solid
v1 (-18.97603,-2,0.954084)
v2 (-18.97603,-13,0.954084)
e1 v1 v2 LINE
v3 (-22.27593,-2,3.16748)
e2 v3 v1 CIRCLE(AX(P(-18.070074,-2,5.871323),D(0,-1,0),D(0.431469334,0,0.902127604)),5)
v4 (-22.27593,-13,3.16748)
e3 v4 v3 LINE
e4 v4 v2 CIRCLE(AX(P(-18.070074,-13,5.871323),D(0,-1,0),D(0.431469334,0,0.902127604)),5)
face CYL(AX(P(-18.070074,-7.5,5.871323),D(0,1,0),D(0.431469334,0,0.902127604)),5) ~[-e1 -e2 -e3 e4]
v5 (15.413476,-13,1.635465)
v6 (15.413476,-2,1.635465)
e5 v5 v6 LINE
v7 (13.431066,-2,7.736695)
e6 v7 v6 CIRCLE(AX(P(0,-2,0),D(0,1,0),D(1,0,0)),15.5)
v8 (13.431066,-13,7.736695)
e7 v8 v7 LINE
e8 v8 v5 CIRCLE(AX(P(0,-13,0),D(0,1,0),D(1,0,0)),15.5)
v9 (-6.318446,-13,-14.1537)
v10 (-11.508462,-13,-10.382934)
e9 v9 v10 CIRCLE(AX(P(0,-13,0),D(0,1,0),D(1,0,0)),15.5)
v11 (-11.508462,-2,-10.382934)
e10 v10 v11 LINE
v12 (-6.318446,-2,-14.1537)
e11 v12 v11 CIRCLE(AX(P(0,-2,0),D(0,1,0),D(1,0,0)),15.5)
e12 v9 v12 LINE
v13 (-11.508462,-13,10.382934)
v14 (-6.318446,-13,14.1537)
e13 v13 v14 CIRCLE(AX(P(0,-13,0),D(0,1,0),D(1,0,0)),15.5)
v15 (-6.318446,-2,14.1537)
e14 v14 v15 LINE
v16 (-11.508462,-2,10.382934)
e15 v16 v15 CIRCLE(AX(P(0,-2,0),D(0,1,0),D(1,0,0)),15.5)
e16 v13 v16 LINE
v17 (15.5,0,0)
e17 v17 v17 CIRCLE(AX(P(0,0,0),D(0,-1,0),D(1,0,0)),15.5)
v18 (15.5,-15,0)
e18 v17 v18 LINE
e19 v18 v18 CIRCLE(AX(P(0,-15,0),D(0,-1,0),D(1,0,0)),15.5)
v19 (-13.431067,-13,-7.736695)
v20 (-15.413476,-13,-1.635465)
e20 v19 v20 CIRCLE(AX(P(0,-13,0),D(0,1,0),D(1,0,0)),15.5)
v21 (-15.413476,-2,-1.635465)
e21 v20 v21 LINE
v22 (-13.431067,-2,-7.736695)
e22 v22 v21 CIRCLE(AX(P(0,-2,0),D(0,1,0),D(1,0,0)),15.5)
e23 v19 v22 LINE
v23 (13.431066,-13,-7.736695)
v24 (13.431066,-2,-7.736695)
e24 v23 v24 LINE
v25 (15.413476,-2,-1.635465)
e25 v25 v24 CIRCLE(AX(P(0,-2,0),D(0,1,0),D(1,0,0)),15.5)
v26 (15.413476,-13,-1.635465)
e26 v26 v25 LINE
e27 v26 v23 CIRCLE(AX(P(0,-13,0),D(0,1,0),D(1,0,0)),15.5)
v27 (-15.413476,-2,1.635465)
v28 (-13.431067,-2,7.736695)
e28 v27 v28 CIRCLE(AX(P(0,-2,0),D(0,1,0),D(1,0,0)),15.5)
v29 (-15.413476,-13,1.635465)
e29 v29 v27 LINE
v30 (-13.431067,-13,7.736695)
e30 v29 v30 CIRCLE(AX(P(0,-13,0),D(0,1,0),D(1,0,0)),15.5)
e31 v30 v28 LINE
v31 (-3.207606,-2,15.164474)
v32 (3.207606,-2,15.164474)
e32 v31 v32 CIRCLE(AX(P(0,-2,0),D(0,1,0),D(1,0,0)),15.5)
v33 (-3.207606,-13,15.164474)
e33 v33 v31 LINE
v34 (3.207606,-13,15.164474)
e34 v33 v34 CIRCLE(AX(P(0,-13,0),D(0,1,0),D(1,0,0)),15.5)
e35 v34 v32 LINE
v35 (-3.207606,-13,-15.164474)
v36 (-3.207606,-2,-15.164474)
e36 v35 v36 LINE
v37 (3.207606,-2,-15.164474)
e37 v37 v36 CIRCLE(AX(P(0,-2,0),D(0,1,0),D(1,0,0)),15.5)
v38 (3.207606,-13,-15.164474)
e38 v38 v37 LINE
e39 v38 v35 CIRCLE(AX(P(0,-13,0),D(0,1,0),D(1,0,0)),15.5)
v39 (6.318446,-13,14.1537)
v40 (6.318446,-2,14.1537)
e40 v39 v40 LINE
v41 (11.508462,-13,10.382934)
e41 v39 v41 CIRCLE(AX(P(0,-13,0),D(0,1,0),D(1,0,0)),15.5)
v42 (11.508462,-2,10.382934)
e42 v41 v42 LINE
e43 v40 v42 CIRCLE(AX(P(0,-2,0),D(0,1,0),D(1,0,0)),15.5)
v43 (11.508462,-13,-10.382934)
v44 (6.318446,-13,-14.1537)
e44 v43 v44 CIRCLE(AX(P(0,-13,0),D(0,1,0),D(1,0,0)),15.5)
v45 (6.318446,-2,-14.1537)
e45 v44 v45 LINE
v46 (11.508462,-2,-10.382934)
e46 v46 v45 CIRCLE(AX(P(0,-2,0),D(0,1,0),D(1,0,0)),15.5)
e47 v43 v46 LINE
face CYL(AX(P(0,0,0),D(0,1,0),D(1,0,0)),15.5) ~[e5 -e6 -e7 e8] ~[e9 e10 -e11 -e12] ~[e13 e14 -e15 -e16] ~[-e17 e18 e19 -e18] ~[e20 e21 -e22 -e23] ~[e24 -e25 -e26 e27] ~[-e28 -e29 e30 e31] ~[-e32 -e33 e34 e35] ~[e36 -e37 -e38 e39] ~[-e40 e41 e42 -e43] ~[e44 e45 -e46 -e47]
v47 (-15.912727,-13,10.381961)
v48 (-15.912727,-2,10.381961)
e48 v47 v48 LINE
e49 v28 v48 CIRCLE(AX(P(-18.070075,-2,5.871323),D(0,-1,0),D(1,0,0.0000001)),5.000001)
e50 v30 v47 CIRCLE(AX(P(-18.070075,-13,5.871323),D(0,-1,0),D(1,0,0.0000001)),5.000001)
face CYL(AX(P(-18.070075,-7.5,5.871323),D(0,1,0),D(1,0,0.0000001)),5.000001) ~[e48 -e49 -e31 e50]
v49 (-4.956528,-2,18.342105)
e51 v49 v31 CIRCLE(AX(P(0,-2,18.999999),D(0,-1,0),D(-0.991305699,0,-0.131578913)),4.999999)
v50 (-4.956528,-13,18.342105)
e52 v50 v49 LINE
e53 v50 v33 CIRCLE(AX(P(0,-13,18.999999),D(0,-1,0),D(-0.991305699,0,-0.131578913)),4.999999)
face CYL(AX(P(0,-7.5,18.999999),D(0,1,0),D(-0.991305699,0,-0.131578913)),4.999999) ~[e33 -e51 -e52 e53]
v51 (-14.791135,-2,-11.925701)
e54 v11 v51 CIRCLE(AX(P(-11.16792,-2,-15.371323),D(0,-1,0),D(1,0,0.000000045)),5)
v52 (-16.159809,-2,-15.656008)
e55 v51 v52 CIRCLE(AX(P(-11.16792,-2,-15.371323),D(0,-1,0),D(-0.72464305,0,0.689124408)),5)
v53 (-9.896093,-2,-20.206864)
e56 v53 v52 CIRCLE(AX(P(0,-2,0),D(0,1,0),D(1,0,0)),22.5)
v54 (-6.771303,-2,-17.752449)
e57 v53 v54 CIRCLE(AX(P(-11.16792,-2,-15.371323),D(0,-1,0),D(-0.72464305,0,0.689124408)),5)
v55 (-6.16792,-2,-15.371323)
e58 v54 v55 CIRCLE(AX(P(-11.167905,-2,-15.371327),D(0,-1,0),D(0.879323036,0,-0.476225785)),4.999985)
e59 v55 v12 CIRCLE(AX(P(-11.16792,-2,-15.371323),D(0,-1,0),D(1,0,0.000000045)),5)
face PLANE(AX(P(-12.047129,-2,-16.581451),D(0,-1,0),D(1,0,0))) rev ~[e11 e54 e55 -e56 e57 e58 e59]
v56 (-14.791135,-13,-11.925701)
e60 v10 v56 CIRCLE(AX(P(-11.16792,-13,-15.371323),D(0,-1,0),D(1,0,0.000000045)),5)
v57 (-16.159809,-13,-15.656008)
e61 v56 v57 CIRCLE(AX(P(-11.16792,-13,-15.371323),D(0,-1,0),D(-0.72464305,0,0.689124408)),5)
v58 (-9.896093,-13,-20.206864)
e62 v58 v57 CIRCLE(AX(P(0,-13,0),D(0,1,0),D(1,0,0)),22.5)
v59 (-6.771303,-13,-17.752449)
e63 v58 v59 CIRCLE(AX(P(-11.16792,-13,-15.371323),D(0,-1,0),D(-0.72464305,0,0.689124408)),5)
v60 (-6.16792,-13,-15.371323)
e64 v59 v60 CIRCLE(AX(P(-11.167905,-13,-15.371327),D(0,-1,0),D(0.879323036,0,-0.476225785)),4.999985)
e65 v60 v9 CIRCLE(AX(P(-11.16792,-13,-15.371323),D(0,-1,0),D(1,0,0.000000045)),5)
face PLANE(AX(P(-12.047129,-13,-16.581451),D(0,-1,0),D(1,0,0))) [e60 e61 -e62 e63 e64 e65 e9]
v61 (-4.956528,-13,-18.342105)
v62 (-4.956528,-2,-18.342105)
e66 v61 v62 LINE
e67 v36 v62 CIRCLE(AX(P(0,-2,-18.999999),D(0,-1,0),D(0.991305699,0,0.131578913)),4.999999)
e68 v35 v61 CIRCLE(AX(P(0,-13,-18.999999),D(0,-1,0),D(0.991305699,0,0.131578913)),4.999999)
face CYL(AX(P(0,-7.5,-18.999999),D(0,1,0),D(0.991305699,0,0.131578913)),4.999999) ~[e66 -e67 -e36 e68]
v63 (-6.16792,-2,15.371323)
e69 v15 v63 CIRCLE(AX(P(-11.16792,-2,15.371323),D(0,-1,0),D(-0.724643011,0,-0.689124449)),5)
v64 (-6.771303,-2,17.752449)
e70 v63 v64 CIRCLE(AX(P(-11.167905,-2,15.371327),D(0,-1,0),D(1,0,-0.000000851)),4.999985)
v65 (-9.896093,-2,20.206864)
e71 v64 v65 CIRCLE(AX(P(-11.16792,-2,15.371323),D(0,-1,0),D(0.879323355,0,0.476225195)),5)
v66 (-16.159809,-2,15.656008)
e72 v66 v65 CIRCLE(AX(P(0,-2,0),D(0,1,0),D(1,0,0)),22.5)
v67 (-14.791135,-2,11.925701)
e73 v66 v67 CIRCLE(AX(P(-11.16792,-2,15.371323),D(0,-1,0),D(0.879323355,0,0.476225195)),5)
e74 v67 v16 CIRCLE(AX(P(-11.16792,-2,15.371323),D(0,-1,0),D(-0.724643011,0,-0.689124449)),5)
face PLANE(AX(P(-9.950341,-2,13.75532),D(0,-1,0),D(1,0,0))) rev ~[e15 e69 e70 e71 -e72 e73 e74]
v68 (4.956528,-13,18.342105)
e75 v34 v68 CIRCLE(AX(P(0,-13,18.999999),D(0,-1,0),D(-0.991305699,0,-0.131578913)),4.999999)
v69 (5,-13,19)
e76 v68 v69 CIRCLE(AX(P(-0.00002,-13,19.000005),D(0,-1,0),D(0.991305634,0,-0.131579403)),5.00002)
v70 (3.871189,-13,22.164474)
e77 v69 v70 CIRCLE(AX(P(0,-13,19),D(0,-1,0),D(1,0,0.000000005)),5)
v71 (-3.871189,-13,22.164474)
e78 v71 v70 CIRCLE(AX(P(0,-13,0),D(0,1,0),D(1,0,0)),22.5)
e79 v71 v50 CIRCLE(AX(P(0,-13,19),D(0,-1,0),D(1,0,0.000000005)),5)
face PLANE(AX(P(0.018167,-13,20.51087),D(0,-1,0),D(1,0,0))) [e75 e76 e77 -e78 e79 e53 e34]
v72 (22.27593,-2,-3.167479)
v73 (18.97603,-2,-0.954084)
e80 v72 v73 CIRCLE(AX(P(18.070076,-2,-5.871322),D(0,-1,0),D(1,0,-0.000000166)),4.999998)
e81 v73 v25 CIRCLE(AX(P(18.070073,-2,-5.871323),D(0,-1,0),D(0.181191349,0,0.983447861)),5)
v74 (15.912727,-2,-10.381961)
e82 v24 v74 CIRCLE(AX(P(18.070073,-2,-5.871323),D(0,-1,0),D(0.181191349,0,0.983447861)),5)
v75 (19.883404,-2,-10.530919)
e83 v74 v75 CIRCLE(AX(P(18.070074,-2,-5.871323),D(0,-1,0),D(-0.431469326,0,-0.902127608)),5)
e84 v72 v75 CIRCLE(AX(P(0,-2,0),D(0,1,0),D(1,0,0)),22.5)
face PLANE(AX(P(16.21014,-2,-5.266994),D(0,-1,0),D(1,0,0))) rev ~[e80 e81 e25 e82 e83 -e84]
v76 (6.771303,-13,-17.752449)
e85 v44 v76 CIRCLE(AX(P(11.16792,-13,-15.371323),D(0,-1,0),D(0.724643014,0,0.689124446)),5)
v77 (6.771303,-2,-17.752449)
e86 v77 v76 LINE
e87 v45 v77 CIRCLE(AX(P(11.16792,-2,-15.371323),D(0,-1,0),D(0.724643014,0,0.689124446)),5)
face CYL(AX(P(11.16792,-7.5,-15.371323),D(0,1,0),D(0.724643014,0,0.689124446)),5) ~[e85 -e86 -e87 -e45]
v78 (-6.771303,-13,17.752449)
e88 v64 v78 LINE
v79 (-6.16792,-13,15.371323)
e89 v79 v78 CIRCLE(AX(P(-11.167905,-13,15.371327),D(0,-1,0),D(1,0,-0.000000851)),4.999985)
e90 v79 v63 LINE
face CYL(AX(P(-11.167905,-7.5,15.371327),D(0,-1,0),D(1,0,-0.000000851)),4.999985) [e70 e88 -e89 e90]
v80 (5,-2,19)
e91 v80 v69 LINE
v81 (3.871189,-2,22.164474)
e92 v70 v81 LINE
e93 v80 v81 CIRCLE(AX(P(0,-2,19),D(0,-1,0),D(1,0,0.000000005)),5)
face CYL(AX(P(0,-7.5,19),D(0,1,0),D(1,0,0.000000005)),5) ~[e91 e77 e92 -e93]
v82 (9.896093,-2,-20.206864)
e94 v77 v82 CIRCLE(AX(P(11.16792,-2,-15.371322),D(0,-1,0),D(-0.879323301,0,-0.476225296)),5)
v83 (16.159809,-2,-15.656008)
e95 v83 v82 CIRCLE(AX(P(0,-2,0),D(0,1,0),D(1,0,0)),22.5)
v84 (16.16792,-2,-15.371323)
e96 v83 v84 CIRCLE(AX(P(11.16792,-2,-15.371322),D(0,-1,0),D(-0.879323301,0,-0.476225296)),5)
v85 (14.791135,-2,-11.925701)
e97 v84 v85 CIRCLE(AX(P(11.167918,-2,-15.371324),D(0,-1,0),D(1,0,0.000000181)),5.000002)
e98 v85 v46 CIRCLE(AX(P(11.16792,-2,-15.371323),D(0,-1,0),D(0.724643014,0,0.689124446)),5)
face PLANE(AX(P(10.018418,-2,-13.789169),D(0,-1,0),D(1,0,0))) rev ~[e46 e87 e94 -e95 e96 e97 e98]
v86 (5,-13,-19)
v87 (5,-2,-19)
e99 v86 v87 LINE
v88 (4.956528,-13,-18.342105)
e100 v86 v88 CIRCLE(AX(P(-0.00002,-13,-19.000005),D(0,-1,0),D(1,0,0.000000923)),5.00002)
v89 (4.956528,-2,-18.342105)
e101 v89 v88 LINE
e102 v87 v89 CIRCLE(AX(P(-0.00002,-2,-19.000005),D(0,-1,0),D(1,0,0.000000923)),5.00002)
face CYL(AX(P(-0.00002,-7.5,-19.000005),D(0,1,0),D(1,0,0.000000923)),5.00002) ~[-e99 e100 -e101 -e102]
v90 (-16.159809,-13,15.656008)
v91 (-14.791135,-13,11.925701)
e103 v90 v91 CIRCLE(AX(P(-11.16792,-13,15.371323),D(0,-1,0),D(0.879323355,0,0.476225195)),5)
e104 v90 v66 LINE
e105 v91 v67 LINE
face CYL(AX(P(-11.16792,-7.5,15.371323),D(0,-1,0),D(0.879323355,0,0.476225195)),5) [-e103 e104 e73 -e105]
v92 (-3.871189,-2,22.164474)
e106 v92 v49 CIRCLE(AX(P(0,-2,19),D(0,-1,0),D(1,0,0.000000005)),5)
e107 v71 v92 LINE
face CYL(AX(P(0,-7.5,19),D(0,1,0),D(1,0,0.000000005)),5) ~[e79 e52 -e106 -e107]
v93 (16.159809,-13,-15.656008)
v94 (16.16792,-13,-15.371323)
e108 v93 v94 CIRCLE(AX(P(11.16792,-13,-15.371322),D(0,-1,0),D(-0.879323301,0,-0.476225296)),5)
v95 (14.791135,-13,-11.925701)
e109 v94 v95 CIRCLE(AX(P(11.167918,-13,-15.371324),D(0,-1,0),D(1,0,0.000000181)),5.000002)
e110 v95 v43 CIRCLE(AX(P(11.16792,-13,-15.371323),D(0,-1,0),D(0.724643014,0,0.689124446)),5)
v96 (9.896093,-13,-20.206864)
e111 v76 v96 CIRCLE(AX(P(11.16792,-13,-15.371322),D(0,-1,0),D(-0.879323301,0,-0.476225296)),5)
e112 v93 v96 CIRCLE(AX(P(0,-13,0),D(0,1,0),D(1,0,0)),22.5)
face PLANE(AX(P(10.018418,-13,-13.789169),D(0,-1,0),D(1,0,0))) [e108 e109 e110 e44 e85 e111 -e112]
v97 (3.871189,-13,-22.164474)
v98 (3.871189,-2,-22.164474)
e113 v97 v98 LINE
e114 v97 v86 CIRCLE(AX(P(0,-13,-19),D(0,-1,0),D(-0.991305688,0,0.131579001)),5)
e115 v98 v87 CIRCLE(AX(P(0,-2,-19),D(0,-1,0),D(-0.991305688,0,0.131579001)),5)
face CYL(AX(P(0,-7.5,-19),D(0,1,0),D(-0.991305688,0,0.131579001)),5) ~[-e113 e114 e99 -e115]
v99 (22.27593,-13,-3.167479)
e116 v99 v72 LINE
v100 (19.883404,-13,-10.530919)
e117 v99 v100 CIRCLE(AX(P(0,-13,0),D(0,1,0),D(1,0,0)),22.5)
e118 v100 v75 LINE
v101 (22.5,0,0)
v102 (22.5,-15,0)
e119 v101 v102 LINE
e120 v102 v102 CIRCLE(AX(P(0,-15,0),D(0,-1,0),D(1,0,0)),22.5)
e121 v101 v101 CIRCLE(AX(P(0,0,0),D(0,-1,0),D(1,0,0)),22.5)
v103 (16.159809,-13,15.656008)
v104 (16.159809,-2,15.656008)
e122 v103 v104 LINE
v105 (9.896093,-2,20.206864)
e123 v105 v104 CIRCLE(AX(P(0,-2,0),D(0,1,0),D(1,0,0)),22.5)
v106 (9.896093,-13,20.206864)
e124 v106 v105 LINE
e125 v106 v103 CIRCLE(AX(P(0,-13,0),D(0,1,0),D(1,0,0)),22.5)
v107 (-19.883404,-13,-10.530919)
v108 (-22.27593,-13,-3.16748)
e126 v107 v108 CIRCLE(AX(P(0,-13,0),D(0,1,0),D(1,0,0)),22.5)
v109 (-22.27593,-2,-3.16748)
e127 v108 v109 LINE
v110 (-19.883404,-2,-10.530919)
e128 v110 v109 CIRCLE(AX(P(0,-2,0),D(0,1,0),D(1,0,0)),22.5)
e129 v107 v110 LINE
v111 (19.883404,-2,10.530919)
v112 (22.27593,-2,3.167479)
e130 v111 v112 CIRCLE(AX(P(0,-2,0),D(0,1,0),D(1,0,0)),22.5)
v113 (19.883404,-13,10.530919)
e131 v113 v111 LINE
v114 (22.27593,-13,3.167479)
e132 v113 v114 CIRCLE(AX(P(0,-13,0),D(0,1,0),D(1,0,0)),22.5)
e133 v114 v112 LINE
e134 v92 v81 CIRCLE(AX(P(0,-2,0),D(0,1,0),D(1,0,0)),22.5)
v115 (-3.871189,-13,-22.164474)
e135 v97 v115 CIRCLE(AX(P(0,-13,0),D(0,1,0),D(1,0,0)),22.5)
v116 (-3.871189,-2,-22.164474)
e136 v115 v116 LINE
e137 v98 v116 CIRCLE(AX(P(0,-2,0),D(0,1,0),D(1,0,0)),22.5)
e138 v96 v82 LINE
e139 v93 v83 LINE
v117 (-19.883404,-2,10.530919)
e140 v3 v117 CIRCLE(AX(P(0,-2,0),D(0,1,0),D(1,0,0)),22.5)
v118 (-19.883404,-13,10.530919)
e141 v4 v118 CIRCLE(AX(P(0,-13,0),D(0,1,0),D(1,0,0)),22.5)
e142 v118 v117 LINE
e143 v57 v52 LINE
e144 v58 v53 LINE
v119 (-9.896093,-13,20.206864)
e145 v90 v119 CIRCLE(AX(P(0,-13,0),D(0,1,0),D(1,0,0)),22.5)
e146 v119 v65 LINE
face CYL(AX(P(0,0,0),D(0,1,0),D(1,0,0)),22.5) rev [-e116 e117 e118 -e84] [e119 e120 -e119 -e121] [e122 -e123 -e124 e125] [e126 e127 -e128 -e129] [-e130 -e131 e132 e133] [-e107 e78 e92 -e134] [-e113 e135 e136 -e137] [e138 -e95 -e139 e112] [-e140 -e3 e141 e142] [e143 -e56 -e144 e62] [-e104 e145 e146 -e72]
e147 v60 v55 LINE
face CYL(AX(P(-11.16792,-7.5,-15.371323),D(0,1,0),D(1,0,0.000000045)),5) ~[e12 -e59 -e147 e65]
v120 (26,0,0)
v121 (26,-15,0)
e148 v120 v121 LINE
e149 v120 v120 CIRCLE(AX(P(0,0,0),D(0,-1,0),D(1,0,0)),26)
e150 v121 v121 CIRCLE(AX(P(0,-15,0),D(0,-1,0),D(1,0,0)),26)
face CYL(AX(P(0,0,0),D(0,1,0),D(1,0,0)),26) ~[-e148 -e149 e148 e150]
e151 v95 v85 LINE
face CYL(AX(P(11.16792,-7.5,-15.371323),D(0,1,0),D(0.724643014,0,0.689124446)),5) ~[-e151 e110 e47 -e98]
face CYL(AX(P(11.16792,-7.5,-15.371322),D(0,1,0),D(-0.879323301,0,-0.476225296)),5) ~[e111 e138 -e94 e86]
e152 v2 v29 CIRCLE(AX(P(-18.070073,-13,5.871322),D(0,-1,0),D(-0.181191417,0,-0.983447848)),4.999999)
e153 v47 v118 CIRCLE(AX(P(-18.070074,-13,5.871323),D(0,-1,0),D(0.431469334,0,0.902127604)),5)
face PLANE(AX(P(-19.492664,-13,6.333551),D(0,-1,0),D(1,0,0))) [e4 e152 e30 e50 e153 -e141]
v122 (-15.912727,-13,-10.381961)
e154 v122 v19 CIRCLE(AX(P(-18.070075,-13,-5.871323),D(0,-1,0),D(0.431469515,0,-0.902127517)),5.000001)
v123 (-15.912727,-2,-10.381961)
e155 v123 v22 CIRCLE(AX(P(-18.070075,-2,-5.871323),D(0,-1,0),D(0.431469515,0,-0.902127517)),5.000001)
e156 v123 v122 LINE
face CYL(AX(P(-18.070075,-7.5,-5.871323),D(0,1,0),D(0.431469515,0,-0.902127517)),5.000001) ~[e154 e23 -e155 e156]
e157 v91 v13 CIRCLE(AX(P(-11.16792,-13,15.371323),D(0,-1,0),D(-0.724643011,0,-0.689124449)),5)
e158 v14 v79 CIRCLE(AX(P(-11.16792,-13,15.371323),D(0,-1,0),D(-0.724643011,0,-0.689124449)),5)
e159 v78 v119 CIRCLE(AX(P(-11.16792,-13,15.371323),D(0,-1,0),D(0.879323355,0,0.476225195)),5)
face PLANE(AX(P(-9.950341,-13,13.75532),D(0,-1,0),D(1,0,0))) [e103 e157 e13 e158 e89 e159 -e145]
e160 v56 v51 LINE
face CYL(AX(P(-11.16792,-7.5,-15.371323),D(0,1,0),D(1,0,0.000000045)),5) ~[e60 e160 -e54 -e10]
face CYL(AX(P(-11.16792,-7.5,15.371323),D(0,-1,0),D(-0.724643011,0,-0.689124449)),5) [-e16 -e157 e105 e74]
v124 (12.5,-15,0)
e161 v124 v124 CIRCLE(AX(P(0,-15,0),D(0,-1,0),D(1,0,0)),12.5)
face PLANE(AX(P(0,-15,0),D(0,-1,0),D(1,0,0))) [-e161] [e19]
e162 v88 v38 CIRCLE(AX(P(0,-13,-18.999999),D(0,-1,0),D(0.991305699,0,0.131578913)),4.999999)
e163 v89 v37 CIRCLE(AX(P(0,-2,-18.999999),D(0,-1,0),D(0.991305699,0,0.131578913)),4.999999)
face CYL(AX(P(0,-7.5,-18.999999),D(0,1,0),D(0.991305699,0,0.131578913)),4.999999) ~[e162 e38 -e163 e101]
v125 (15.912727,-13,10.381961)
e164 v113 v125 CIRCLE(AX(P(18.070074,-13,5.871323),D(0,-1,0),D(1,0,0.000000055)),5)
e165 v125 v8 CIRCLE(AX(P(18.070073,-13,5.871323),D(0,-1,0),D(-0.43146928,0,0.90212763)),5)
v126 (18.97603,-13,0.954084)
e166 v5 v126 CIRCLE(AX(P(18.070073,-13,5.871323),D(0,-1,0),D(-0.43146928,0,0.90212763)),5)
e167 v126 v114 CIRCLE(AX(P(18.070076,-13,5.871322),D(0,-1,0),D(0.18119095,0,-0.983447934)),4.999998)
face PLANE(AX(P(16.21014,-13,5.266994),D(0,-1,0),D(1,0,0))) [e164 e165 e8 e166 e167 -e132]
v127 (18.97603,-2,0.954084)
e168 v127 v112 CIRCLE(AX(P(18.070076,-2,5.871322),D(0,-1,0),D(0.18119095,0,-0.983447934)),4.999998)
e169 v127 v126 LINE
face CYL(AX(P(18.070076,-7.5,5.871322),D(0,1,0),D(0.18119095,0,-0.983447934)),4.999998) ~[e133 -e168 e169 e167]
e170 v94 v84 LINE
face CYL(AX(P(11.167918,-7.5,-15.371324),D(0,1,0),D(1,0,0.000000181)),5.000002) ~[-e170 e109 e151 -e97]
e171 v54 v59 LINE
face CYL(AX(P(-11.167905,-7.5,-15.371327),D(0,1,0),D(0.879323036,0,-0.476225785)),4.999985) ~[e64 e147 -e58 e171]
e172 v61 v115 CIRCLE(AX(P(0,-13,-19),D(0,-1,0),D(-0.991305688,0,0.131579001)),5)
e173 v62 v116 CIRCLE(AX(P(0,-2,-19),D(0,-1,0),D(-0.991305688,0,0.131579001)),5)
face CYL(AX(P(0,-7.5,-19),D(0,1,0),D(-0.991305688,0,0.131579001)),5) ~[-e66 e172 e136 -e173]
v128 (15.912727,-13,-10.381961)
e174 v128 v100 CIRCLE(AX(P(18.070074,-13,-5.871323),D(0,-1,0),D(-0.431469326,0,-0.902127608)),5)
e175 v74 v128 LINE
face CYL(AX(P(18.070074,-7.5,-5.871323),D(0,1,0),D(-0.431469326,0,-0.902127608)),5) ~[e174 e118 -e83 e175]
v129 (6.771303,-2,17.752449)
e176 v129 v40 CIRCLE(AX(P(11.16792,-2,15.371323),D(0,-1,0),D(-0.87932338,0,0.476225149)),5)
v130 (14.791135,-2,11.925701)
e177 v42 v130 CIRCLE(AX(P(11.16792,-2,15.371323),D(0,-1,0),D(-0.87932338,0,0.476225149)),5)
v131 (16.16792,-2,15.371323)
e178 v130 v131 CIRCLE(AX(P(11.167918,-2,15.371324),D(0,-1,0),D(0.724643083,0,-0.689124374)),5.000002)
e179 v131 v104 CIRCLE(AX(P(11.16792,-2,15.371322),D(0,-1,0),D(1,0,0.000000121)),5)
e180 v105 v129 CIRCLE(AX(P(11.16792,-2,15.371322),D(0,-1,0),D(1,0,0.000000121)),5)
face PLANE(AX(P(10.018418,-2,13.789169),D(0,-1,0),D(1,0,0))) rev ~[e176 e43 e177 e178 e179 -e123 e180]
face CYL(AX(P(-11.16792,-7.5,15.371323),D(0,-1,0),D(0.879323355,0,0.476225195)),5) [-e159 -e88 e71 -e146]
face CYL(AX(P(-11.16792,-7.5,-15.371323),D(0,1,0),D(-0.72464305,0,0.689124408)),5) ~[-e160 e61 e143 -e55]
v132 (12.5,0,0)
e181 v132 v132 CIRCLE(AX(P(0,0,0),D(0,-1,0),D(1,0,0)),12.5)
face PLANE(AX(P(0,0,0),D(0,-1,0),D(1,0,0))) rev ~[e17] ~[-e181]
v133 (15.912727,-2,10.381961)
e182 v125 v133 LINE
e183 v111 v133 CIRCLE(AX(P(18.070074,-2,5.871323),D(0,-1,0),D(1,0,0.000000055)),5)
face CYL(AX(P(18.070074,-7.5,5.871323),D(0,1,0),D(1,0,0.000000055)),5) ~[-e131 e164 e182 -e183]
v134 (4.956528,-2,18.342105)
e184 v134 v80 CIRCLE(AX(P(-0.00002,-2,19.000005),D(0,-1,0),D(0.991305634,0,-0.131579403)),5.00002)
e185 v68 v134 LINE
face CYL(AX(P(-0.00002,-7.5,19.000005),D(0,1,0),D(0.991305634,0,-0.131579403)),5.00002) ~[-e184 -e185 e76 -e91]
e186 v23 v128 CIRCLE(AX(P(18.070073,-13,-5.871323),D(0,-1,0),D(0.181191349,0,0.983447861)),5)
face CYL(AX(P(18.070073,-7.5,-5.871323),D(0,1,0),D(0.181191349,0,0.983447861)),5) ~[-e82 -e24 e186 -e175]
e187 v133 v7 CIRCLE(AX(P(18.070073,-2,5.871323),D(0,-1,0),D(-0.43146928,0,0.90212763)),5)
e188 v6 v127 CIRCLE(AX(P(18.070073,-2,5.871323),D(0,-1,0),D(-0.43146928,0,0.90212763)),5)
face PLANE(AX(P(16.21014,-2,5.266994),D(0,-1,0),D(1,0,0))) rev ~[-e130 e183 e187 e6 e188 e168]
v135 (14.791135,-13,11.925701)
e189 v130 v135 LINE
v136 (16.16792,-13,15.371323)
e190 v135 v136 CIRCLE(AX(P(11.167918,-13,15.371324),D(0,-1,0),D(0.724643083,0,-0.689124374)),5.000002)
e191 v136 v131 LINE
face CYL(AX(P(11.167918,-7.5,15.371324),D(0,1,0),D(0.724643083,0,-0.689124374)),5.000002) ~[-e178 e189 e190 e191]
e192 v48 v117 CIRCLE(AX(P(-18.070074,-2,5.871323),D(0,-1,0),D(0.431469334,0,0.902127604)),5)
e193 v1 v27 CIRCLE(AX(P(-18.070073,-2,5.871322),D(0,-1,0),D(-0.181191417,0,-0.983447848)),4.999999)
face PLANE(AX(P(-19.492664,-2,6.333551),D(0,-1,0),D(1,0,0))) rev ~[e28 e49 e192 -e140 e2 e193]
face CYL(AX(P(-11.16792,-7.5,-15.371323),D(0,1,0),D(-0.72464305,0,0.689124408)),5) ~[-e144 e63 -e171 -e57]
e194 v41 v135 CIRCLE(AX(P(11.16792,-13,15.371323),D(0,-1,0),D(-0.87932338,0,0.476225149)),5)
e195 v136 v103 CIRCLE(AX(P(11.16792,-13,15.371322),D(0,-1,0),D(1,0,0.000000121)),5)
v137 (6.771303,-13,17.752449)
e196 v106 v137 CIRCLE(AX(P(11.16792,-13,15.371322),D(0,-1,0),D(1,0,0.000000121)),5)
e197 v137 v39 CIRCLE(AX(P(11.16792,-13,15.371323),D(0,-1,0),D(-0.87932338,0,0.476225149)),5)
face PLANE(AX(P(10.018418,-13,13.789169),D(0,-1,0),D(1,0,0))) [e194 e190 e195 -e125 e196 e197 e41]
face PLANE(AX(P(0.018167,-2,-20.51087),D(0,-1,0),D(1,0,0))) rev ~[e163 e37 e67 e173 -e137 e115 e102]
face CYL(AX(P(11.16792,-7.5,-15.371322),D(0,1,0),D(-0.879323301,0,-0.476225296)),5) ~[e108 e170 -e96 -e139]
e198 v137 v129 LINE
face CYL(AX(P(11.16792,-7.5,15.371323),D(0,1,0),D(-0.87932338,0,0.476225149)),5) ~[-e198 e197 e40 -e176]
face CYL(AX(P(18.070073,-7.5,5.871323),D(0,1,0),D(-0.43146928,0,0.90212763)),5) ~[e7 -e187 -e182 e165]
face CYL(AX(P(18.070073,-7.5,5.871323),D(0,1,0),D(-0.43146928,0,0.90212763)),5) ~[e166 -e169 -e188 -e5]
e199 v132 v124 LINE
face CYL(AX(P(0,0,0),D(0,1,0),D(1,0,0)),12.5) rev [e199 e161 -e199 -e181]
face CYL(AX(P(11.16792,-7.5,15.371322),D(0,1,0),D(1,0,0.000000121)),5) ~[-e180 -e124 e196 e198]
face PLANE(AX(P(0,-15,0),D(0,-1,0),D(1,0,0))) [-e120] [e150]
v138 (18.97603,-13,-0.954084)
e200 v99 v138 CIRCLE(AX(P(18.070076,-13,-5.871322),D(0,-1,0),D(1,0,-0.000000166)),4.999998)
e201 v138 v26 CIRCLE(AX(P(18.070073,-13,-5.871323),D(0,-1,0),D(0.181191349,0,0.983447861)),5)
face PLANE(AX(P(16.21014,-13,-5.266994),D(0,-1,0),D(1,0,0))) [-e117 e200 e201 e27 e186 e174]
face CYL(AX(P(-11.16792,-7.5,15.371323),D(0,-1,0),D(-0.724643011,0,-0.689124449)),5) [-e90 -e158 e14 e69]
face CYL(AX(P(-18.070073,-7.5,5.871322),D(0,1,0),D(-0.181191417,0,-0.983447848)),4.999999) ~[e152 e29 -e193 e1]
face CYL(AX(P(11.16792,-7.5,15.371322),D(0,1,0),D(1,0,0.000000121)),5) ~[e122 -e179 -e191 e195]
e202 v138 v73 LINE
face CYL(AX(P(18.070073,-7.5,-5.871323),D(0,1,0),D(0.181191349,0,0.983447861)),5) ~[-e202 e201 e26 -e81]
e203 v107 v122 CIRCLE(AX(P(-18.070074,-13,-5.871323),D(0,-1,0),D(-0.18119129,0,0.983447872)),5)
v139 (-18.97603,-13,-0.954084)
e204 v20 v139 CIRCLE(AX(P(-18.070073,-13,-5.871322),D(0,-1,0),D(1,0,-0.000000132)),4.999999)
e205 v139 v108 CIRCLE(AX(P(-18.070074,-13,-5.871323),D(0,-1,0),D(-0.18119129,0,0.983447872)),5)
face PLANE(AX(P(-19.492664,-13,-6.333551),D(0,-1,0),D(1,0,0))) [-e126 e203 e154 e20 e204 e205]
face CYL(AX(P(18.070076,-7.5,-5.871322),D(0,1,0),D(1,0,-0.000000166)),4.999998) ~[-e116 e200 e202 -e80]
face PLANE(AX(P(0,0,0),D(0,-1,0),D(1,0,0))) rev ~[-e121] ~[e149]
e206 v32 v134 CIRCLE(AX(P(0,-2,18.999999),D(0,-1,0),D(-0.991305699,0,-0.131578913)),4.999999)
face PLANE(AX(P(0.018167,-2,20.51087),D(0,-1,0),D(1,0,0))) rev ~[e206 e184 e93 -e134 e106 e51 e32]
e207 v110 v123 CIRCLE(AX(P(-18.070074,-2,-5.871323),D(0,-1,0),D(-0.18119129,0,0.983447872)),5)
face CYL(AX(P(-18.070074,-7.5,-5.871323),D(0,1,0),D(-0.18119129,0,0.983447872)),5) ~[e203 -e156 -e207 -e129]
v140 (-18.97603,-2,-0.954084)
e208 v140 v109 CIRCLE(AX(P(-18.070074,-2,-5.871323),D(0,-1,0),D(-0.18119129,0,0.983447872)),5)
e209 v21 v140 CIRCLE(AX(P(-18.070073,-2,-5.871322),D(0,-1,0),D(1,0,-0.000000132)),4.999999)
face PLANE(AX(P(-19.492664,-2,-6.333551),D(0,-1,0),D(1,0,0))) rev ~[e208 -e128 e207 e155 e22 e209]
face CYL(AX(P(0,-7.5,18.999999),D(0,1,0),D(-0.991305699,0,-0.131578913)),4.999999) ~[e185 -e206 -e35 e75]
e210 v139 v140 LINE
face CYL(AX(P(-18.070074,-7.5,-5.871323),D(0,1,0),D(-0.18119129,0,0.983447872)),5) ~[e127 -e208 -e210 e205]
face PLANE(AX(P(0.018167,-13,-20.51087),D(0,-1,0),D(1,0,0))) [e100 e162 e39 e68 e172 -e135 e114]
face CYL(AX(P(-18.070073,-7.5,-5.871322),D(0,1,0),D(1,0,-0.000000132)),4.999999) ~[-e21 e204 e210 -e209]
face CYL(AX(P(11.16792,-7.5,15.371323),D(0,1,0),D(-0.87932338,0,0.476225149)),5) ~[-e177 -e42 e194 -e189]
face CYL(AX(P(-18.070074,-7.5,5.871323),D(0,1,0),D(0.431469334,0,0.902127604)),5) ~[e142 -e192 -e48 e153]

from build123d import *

# Parameters (mm, degrees)
F2_R     = 26
F2_R_2   = 22.5
F3_DEPTH = 15
F1_R     = 15.5
F1_R_2   = 12.5
F4_DEPTH = 15
F6_DEPTH = 5.5


with BuildPart() as f3:
    # F2 (on Front) → F3 (new body)
    with BuildSketch(Plane.XZ):
        Circle(F2_R)
        Circle(F2_R_2, mode=Mode.SUBTRACT)
    extrude(amount=F3_DEPTH)



with BuildPart() as f4:
    # F1 (on Front) → F4 (new body)
    with BuildSketch(Plane.XZ):
        Circle(F1_R)
        Circle(F1_R_2, mode=Mode.SUBTRACT)
    extrude(amount=F4_DEPTH)


with BuildPart() as f3_1:
    add(f3.part)

    add(f4.part)  # F6 merges F4
    # F5 (on offset) → F6 (join, symmetric)
    with BuildSketch(Plane.XZ.offset(7.5)):
        with BuildLine():
            ThreePointArc((-18.97603, 0.954084), (-18.070074, 5.871323), (-15.912727, 10.381961))
            ThreePointArc((-15.912727, 10.381961), (-22.825356, 7.416408), (-18.97603, 0.954084))
        make_face()
        with BuildLine():
            ThreePointArc((-13.070074, 5.871323), (-13.840019, 8.53715), (-15.912727, 10.381961))
            ThreePointArc((-15.912727, 10.381961), (-18.070074, 5.871323), (-18.97603, 0.954084))
            ThreePointArc((-18.97603, 0.954084), (-14.870838, 2.028812), (-13.070074, 5.871323))
        make_face()
        with BuildLine():
            ThreePointArc((-18.97603, -0.954084), (-22.825356, -7.416408), (-15.912727, -10.381961))
            ThreePointArc((-15.912727, -10.381961), (-18.070074, -5.871323), (-18.97603, -0.954084))
        make_face()
        with BuildLine():
            ThreePointArc((-18.97603, -0.954084), (-18.070074, -5.871323), (-15.912727, -10.381961))
            ThreePointArc((-15.912727, -10.381961), (-13.840019, -8.53715), (-13.070074, -5.871323))
            ThreePointArc((-13.070074, -5.871323), (-14.870838, -2.028812), (-18.97603, -0.954084))
        make_face()
        with BuildLine():
            ThreePointArc((-14.791135, -11.925701), (-14.106846, -19.416408), (-6.771303, -17.752449))
            ThreePointArc((-6.771303, -17.752449), (-11.16792, -15.371323), (-14.791135, -11.925701))
        make_face()
        with BuildLine():
            ThreePointArc((-14.791135, -11.925701), (-11.16792, -15.371323), (-6.771303, -17.752449))
            ThreePointArc((-6.771303, -17.752449), (-6.321112, -16.599516), (-6.16792, -15.371323))
            ThreePointArc((-6.16792, -15.371323), (-9.312667, -10.72826), (-14.791135, -11.925701))
        make_face()
        with BuildLine():
            ThreePointArc((5, -19), (4.98912, -18.670335), (4.956528, -18.342105))
            ThreePointArc((4.956528, -18.342105), (0, -19), (-4.956528, -18.342105))
            ThreePointArc((-4.956528, -18.342105), (-0.329665, -23.98912), (5, -19))
        make_face()
        with BuildLine():
            ThreePointArc((-4.956528, -18.342105), (0, -19), (4.956528, -18.342105))
            ThreePointArc((4.956528, -18.342105), (0, -14), (-4.956528, -18.342105))
        make_face()
        with BuildLine():
            ThreePointArc((6.771303, -17.752449), (11.16792, -15.371323), (14.791135, -11.925701))
            ThreePointArc((14.791135, -11.925701), (8.228994, -11.326238), (6.771303, -17.752449))
        make_face()
        with BuildLine():
            ThreePointArc((16.16792, -15.371323), (15.810983, -13.51607), (14.791135, -11.925701))
            ThreePointArc((14.791135, -11.925701), (11.16792, -15.371323), (6.771303, -17.752449))
            ThreePointArc((6.771303, -17.752449), (12.396113, -20.21813), (16.16792, -15.371323))
        make_face()
        with BuildLine():
            ThreePointArc((15.912727, -10.381961), (18.070074, -5.871323), (18.97603, -0.954084))
            ThreePointArc((18.97603, -0.954084), (13.314791, -4.326238), (15.912727, -10.381961))
        make_face()
        with BuildLine():
            ThreePointArc((23.070074, -5.871323), (21.912585, -2.672087), (18.97603, -0.954084))
            ThreePointArc((18.97603, -0.954084), (18.070074, -5.871323), (15.912727, -10.381961))
            ThreePointArc((15.912727, -10.381961), (20.735901, -10.101378), (23.070074, -5.871323))
        make_face()
        with BuildLine():
            ThreePointArc((15.912727, 10.381961), (13.314791, 4.326238), (18.97603, 0.954084))
            ThreePointArc((18.97603, 0.954084), (18.070074, 5.871323), (15.912727, 10.381961))
        make_face()
        with BuildLine():
            ThreePointArc((15.912727, 10.381961), (18.070074, 5.871323), (18.97603, 0.954084))
            ThreePointArc((18.97603, 0.954084), (21.912585, 2.672087), (23.070074, 5.871323))
            ThreePointArc((23.070074, 5.871323), (20.735901, 10.101378), (15.912727, 10.381961))
        make_face()
        with BuildLine():
            ThreePointArc((6.771303, 17.752449), (8.228994, 11.326238), (14.791135, 11.925701))
            ThreePointArc((14.791135, 11.925701), (11.16792, 15.371323), (6.771303, 17.752449))
        make_face()
        with BuildLine():
            ThreePointArc((6.771303, 17.752449), (11.16792, 15.371323), (14.791135, 11.925701))
            ThreePointArc((14.791135, 11.925701), (15.810983, 13.51607), (16.16792, 15.371323))
            ThreePointArc((16.16792, 15.371323), (12.396113, 20.21813), (6.771303, 17.752449))
        make_face()
        with BuildLine():
            ThreePointArc((-4.956528, 18.342105), (0, 19), (4.956528, 18.342105))
            ThreePointArc((4.956528, 18.342105), (4.98912, 18.670335), (5, 19))
            ThreePointArc((5, 19), (-0.329665, 23.98912), (-4.956528, 18.342105))
        make_face()
        with BuildLine():
            ThreePointArc((-4.956528, 18.342105), (0, 14), (4.956528, 18.342105))
            ThreePointArc((4.956528, 18.342105), (0, 19), (-4.956528, 18.342105))
        make_face()
        with BuildLine():
            ThreePointArc((-6.16792, 15.371323), (-6.321112, 16.599516), (-6.771303, 17.752449))
            ThreePointArc((-6.771303, 17.752449), (-11.16792, 15.371323), (-14.791135, 11.925701))
            ThreePointArc((-14.791135, 11.925701), (-9.312667, 10.72826), (-6.16792, 15.371323))
        make_face()
        with BuildLine():
            ThreePointArc((-14.791135, 11.925701), (-11.16792, 15.371323), (-6.771303, 17.752449))
            ThreePointArc((-6.771303, 17.752449), (-14.106846, 19.416408), (-14.791135, 11.925701))
        make_face()
    extrude(amount=F6_DEPTH, both=True)


solid = f3_1.part
